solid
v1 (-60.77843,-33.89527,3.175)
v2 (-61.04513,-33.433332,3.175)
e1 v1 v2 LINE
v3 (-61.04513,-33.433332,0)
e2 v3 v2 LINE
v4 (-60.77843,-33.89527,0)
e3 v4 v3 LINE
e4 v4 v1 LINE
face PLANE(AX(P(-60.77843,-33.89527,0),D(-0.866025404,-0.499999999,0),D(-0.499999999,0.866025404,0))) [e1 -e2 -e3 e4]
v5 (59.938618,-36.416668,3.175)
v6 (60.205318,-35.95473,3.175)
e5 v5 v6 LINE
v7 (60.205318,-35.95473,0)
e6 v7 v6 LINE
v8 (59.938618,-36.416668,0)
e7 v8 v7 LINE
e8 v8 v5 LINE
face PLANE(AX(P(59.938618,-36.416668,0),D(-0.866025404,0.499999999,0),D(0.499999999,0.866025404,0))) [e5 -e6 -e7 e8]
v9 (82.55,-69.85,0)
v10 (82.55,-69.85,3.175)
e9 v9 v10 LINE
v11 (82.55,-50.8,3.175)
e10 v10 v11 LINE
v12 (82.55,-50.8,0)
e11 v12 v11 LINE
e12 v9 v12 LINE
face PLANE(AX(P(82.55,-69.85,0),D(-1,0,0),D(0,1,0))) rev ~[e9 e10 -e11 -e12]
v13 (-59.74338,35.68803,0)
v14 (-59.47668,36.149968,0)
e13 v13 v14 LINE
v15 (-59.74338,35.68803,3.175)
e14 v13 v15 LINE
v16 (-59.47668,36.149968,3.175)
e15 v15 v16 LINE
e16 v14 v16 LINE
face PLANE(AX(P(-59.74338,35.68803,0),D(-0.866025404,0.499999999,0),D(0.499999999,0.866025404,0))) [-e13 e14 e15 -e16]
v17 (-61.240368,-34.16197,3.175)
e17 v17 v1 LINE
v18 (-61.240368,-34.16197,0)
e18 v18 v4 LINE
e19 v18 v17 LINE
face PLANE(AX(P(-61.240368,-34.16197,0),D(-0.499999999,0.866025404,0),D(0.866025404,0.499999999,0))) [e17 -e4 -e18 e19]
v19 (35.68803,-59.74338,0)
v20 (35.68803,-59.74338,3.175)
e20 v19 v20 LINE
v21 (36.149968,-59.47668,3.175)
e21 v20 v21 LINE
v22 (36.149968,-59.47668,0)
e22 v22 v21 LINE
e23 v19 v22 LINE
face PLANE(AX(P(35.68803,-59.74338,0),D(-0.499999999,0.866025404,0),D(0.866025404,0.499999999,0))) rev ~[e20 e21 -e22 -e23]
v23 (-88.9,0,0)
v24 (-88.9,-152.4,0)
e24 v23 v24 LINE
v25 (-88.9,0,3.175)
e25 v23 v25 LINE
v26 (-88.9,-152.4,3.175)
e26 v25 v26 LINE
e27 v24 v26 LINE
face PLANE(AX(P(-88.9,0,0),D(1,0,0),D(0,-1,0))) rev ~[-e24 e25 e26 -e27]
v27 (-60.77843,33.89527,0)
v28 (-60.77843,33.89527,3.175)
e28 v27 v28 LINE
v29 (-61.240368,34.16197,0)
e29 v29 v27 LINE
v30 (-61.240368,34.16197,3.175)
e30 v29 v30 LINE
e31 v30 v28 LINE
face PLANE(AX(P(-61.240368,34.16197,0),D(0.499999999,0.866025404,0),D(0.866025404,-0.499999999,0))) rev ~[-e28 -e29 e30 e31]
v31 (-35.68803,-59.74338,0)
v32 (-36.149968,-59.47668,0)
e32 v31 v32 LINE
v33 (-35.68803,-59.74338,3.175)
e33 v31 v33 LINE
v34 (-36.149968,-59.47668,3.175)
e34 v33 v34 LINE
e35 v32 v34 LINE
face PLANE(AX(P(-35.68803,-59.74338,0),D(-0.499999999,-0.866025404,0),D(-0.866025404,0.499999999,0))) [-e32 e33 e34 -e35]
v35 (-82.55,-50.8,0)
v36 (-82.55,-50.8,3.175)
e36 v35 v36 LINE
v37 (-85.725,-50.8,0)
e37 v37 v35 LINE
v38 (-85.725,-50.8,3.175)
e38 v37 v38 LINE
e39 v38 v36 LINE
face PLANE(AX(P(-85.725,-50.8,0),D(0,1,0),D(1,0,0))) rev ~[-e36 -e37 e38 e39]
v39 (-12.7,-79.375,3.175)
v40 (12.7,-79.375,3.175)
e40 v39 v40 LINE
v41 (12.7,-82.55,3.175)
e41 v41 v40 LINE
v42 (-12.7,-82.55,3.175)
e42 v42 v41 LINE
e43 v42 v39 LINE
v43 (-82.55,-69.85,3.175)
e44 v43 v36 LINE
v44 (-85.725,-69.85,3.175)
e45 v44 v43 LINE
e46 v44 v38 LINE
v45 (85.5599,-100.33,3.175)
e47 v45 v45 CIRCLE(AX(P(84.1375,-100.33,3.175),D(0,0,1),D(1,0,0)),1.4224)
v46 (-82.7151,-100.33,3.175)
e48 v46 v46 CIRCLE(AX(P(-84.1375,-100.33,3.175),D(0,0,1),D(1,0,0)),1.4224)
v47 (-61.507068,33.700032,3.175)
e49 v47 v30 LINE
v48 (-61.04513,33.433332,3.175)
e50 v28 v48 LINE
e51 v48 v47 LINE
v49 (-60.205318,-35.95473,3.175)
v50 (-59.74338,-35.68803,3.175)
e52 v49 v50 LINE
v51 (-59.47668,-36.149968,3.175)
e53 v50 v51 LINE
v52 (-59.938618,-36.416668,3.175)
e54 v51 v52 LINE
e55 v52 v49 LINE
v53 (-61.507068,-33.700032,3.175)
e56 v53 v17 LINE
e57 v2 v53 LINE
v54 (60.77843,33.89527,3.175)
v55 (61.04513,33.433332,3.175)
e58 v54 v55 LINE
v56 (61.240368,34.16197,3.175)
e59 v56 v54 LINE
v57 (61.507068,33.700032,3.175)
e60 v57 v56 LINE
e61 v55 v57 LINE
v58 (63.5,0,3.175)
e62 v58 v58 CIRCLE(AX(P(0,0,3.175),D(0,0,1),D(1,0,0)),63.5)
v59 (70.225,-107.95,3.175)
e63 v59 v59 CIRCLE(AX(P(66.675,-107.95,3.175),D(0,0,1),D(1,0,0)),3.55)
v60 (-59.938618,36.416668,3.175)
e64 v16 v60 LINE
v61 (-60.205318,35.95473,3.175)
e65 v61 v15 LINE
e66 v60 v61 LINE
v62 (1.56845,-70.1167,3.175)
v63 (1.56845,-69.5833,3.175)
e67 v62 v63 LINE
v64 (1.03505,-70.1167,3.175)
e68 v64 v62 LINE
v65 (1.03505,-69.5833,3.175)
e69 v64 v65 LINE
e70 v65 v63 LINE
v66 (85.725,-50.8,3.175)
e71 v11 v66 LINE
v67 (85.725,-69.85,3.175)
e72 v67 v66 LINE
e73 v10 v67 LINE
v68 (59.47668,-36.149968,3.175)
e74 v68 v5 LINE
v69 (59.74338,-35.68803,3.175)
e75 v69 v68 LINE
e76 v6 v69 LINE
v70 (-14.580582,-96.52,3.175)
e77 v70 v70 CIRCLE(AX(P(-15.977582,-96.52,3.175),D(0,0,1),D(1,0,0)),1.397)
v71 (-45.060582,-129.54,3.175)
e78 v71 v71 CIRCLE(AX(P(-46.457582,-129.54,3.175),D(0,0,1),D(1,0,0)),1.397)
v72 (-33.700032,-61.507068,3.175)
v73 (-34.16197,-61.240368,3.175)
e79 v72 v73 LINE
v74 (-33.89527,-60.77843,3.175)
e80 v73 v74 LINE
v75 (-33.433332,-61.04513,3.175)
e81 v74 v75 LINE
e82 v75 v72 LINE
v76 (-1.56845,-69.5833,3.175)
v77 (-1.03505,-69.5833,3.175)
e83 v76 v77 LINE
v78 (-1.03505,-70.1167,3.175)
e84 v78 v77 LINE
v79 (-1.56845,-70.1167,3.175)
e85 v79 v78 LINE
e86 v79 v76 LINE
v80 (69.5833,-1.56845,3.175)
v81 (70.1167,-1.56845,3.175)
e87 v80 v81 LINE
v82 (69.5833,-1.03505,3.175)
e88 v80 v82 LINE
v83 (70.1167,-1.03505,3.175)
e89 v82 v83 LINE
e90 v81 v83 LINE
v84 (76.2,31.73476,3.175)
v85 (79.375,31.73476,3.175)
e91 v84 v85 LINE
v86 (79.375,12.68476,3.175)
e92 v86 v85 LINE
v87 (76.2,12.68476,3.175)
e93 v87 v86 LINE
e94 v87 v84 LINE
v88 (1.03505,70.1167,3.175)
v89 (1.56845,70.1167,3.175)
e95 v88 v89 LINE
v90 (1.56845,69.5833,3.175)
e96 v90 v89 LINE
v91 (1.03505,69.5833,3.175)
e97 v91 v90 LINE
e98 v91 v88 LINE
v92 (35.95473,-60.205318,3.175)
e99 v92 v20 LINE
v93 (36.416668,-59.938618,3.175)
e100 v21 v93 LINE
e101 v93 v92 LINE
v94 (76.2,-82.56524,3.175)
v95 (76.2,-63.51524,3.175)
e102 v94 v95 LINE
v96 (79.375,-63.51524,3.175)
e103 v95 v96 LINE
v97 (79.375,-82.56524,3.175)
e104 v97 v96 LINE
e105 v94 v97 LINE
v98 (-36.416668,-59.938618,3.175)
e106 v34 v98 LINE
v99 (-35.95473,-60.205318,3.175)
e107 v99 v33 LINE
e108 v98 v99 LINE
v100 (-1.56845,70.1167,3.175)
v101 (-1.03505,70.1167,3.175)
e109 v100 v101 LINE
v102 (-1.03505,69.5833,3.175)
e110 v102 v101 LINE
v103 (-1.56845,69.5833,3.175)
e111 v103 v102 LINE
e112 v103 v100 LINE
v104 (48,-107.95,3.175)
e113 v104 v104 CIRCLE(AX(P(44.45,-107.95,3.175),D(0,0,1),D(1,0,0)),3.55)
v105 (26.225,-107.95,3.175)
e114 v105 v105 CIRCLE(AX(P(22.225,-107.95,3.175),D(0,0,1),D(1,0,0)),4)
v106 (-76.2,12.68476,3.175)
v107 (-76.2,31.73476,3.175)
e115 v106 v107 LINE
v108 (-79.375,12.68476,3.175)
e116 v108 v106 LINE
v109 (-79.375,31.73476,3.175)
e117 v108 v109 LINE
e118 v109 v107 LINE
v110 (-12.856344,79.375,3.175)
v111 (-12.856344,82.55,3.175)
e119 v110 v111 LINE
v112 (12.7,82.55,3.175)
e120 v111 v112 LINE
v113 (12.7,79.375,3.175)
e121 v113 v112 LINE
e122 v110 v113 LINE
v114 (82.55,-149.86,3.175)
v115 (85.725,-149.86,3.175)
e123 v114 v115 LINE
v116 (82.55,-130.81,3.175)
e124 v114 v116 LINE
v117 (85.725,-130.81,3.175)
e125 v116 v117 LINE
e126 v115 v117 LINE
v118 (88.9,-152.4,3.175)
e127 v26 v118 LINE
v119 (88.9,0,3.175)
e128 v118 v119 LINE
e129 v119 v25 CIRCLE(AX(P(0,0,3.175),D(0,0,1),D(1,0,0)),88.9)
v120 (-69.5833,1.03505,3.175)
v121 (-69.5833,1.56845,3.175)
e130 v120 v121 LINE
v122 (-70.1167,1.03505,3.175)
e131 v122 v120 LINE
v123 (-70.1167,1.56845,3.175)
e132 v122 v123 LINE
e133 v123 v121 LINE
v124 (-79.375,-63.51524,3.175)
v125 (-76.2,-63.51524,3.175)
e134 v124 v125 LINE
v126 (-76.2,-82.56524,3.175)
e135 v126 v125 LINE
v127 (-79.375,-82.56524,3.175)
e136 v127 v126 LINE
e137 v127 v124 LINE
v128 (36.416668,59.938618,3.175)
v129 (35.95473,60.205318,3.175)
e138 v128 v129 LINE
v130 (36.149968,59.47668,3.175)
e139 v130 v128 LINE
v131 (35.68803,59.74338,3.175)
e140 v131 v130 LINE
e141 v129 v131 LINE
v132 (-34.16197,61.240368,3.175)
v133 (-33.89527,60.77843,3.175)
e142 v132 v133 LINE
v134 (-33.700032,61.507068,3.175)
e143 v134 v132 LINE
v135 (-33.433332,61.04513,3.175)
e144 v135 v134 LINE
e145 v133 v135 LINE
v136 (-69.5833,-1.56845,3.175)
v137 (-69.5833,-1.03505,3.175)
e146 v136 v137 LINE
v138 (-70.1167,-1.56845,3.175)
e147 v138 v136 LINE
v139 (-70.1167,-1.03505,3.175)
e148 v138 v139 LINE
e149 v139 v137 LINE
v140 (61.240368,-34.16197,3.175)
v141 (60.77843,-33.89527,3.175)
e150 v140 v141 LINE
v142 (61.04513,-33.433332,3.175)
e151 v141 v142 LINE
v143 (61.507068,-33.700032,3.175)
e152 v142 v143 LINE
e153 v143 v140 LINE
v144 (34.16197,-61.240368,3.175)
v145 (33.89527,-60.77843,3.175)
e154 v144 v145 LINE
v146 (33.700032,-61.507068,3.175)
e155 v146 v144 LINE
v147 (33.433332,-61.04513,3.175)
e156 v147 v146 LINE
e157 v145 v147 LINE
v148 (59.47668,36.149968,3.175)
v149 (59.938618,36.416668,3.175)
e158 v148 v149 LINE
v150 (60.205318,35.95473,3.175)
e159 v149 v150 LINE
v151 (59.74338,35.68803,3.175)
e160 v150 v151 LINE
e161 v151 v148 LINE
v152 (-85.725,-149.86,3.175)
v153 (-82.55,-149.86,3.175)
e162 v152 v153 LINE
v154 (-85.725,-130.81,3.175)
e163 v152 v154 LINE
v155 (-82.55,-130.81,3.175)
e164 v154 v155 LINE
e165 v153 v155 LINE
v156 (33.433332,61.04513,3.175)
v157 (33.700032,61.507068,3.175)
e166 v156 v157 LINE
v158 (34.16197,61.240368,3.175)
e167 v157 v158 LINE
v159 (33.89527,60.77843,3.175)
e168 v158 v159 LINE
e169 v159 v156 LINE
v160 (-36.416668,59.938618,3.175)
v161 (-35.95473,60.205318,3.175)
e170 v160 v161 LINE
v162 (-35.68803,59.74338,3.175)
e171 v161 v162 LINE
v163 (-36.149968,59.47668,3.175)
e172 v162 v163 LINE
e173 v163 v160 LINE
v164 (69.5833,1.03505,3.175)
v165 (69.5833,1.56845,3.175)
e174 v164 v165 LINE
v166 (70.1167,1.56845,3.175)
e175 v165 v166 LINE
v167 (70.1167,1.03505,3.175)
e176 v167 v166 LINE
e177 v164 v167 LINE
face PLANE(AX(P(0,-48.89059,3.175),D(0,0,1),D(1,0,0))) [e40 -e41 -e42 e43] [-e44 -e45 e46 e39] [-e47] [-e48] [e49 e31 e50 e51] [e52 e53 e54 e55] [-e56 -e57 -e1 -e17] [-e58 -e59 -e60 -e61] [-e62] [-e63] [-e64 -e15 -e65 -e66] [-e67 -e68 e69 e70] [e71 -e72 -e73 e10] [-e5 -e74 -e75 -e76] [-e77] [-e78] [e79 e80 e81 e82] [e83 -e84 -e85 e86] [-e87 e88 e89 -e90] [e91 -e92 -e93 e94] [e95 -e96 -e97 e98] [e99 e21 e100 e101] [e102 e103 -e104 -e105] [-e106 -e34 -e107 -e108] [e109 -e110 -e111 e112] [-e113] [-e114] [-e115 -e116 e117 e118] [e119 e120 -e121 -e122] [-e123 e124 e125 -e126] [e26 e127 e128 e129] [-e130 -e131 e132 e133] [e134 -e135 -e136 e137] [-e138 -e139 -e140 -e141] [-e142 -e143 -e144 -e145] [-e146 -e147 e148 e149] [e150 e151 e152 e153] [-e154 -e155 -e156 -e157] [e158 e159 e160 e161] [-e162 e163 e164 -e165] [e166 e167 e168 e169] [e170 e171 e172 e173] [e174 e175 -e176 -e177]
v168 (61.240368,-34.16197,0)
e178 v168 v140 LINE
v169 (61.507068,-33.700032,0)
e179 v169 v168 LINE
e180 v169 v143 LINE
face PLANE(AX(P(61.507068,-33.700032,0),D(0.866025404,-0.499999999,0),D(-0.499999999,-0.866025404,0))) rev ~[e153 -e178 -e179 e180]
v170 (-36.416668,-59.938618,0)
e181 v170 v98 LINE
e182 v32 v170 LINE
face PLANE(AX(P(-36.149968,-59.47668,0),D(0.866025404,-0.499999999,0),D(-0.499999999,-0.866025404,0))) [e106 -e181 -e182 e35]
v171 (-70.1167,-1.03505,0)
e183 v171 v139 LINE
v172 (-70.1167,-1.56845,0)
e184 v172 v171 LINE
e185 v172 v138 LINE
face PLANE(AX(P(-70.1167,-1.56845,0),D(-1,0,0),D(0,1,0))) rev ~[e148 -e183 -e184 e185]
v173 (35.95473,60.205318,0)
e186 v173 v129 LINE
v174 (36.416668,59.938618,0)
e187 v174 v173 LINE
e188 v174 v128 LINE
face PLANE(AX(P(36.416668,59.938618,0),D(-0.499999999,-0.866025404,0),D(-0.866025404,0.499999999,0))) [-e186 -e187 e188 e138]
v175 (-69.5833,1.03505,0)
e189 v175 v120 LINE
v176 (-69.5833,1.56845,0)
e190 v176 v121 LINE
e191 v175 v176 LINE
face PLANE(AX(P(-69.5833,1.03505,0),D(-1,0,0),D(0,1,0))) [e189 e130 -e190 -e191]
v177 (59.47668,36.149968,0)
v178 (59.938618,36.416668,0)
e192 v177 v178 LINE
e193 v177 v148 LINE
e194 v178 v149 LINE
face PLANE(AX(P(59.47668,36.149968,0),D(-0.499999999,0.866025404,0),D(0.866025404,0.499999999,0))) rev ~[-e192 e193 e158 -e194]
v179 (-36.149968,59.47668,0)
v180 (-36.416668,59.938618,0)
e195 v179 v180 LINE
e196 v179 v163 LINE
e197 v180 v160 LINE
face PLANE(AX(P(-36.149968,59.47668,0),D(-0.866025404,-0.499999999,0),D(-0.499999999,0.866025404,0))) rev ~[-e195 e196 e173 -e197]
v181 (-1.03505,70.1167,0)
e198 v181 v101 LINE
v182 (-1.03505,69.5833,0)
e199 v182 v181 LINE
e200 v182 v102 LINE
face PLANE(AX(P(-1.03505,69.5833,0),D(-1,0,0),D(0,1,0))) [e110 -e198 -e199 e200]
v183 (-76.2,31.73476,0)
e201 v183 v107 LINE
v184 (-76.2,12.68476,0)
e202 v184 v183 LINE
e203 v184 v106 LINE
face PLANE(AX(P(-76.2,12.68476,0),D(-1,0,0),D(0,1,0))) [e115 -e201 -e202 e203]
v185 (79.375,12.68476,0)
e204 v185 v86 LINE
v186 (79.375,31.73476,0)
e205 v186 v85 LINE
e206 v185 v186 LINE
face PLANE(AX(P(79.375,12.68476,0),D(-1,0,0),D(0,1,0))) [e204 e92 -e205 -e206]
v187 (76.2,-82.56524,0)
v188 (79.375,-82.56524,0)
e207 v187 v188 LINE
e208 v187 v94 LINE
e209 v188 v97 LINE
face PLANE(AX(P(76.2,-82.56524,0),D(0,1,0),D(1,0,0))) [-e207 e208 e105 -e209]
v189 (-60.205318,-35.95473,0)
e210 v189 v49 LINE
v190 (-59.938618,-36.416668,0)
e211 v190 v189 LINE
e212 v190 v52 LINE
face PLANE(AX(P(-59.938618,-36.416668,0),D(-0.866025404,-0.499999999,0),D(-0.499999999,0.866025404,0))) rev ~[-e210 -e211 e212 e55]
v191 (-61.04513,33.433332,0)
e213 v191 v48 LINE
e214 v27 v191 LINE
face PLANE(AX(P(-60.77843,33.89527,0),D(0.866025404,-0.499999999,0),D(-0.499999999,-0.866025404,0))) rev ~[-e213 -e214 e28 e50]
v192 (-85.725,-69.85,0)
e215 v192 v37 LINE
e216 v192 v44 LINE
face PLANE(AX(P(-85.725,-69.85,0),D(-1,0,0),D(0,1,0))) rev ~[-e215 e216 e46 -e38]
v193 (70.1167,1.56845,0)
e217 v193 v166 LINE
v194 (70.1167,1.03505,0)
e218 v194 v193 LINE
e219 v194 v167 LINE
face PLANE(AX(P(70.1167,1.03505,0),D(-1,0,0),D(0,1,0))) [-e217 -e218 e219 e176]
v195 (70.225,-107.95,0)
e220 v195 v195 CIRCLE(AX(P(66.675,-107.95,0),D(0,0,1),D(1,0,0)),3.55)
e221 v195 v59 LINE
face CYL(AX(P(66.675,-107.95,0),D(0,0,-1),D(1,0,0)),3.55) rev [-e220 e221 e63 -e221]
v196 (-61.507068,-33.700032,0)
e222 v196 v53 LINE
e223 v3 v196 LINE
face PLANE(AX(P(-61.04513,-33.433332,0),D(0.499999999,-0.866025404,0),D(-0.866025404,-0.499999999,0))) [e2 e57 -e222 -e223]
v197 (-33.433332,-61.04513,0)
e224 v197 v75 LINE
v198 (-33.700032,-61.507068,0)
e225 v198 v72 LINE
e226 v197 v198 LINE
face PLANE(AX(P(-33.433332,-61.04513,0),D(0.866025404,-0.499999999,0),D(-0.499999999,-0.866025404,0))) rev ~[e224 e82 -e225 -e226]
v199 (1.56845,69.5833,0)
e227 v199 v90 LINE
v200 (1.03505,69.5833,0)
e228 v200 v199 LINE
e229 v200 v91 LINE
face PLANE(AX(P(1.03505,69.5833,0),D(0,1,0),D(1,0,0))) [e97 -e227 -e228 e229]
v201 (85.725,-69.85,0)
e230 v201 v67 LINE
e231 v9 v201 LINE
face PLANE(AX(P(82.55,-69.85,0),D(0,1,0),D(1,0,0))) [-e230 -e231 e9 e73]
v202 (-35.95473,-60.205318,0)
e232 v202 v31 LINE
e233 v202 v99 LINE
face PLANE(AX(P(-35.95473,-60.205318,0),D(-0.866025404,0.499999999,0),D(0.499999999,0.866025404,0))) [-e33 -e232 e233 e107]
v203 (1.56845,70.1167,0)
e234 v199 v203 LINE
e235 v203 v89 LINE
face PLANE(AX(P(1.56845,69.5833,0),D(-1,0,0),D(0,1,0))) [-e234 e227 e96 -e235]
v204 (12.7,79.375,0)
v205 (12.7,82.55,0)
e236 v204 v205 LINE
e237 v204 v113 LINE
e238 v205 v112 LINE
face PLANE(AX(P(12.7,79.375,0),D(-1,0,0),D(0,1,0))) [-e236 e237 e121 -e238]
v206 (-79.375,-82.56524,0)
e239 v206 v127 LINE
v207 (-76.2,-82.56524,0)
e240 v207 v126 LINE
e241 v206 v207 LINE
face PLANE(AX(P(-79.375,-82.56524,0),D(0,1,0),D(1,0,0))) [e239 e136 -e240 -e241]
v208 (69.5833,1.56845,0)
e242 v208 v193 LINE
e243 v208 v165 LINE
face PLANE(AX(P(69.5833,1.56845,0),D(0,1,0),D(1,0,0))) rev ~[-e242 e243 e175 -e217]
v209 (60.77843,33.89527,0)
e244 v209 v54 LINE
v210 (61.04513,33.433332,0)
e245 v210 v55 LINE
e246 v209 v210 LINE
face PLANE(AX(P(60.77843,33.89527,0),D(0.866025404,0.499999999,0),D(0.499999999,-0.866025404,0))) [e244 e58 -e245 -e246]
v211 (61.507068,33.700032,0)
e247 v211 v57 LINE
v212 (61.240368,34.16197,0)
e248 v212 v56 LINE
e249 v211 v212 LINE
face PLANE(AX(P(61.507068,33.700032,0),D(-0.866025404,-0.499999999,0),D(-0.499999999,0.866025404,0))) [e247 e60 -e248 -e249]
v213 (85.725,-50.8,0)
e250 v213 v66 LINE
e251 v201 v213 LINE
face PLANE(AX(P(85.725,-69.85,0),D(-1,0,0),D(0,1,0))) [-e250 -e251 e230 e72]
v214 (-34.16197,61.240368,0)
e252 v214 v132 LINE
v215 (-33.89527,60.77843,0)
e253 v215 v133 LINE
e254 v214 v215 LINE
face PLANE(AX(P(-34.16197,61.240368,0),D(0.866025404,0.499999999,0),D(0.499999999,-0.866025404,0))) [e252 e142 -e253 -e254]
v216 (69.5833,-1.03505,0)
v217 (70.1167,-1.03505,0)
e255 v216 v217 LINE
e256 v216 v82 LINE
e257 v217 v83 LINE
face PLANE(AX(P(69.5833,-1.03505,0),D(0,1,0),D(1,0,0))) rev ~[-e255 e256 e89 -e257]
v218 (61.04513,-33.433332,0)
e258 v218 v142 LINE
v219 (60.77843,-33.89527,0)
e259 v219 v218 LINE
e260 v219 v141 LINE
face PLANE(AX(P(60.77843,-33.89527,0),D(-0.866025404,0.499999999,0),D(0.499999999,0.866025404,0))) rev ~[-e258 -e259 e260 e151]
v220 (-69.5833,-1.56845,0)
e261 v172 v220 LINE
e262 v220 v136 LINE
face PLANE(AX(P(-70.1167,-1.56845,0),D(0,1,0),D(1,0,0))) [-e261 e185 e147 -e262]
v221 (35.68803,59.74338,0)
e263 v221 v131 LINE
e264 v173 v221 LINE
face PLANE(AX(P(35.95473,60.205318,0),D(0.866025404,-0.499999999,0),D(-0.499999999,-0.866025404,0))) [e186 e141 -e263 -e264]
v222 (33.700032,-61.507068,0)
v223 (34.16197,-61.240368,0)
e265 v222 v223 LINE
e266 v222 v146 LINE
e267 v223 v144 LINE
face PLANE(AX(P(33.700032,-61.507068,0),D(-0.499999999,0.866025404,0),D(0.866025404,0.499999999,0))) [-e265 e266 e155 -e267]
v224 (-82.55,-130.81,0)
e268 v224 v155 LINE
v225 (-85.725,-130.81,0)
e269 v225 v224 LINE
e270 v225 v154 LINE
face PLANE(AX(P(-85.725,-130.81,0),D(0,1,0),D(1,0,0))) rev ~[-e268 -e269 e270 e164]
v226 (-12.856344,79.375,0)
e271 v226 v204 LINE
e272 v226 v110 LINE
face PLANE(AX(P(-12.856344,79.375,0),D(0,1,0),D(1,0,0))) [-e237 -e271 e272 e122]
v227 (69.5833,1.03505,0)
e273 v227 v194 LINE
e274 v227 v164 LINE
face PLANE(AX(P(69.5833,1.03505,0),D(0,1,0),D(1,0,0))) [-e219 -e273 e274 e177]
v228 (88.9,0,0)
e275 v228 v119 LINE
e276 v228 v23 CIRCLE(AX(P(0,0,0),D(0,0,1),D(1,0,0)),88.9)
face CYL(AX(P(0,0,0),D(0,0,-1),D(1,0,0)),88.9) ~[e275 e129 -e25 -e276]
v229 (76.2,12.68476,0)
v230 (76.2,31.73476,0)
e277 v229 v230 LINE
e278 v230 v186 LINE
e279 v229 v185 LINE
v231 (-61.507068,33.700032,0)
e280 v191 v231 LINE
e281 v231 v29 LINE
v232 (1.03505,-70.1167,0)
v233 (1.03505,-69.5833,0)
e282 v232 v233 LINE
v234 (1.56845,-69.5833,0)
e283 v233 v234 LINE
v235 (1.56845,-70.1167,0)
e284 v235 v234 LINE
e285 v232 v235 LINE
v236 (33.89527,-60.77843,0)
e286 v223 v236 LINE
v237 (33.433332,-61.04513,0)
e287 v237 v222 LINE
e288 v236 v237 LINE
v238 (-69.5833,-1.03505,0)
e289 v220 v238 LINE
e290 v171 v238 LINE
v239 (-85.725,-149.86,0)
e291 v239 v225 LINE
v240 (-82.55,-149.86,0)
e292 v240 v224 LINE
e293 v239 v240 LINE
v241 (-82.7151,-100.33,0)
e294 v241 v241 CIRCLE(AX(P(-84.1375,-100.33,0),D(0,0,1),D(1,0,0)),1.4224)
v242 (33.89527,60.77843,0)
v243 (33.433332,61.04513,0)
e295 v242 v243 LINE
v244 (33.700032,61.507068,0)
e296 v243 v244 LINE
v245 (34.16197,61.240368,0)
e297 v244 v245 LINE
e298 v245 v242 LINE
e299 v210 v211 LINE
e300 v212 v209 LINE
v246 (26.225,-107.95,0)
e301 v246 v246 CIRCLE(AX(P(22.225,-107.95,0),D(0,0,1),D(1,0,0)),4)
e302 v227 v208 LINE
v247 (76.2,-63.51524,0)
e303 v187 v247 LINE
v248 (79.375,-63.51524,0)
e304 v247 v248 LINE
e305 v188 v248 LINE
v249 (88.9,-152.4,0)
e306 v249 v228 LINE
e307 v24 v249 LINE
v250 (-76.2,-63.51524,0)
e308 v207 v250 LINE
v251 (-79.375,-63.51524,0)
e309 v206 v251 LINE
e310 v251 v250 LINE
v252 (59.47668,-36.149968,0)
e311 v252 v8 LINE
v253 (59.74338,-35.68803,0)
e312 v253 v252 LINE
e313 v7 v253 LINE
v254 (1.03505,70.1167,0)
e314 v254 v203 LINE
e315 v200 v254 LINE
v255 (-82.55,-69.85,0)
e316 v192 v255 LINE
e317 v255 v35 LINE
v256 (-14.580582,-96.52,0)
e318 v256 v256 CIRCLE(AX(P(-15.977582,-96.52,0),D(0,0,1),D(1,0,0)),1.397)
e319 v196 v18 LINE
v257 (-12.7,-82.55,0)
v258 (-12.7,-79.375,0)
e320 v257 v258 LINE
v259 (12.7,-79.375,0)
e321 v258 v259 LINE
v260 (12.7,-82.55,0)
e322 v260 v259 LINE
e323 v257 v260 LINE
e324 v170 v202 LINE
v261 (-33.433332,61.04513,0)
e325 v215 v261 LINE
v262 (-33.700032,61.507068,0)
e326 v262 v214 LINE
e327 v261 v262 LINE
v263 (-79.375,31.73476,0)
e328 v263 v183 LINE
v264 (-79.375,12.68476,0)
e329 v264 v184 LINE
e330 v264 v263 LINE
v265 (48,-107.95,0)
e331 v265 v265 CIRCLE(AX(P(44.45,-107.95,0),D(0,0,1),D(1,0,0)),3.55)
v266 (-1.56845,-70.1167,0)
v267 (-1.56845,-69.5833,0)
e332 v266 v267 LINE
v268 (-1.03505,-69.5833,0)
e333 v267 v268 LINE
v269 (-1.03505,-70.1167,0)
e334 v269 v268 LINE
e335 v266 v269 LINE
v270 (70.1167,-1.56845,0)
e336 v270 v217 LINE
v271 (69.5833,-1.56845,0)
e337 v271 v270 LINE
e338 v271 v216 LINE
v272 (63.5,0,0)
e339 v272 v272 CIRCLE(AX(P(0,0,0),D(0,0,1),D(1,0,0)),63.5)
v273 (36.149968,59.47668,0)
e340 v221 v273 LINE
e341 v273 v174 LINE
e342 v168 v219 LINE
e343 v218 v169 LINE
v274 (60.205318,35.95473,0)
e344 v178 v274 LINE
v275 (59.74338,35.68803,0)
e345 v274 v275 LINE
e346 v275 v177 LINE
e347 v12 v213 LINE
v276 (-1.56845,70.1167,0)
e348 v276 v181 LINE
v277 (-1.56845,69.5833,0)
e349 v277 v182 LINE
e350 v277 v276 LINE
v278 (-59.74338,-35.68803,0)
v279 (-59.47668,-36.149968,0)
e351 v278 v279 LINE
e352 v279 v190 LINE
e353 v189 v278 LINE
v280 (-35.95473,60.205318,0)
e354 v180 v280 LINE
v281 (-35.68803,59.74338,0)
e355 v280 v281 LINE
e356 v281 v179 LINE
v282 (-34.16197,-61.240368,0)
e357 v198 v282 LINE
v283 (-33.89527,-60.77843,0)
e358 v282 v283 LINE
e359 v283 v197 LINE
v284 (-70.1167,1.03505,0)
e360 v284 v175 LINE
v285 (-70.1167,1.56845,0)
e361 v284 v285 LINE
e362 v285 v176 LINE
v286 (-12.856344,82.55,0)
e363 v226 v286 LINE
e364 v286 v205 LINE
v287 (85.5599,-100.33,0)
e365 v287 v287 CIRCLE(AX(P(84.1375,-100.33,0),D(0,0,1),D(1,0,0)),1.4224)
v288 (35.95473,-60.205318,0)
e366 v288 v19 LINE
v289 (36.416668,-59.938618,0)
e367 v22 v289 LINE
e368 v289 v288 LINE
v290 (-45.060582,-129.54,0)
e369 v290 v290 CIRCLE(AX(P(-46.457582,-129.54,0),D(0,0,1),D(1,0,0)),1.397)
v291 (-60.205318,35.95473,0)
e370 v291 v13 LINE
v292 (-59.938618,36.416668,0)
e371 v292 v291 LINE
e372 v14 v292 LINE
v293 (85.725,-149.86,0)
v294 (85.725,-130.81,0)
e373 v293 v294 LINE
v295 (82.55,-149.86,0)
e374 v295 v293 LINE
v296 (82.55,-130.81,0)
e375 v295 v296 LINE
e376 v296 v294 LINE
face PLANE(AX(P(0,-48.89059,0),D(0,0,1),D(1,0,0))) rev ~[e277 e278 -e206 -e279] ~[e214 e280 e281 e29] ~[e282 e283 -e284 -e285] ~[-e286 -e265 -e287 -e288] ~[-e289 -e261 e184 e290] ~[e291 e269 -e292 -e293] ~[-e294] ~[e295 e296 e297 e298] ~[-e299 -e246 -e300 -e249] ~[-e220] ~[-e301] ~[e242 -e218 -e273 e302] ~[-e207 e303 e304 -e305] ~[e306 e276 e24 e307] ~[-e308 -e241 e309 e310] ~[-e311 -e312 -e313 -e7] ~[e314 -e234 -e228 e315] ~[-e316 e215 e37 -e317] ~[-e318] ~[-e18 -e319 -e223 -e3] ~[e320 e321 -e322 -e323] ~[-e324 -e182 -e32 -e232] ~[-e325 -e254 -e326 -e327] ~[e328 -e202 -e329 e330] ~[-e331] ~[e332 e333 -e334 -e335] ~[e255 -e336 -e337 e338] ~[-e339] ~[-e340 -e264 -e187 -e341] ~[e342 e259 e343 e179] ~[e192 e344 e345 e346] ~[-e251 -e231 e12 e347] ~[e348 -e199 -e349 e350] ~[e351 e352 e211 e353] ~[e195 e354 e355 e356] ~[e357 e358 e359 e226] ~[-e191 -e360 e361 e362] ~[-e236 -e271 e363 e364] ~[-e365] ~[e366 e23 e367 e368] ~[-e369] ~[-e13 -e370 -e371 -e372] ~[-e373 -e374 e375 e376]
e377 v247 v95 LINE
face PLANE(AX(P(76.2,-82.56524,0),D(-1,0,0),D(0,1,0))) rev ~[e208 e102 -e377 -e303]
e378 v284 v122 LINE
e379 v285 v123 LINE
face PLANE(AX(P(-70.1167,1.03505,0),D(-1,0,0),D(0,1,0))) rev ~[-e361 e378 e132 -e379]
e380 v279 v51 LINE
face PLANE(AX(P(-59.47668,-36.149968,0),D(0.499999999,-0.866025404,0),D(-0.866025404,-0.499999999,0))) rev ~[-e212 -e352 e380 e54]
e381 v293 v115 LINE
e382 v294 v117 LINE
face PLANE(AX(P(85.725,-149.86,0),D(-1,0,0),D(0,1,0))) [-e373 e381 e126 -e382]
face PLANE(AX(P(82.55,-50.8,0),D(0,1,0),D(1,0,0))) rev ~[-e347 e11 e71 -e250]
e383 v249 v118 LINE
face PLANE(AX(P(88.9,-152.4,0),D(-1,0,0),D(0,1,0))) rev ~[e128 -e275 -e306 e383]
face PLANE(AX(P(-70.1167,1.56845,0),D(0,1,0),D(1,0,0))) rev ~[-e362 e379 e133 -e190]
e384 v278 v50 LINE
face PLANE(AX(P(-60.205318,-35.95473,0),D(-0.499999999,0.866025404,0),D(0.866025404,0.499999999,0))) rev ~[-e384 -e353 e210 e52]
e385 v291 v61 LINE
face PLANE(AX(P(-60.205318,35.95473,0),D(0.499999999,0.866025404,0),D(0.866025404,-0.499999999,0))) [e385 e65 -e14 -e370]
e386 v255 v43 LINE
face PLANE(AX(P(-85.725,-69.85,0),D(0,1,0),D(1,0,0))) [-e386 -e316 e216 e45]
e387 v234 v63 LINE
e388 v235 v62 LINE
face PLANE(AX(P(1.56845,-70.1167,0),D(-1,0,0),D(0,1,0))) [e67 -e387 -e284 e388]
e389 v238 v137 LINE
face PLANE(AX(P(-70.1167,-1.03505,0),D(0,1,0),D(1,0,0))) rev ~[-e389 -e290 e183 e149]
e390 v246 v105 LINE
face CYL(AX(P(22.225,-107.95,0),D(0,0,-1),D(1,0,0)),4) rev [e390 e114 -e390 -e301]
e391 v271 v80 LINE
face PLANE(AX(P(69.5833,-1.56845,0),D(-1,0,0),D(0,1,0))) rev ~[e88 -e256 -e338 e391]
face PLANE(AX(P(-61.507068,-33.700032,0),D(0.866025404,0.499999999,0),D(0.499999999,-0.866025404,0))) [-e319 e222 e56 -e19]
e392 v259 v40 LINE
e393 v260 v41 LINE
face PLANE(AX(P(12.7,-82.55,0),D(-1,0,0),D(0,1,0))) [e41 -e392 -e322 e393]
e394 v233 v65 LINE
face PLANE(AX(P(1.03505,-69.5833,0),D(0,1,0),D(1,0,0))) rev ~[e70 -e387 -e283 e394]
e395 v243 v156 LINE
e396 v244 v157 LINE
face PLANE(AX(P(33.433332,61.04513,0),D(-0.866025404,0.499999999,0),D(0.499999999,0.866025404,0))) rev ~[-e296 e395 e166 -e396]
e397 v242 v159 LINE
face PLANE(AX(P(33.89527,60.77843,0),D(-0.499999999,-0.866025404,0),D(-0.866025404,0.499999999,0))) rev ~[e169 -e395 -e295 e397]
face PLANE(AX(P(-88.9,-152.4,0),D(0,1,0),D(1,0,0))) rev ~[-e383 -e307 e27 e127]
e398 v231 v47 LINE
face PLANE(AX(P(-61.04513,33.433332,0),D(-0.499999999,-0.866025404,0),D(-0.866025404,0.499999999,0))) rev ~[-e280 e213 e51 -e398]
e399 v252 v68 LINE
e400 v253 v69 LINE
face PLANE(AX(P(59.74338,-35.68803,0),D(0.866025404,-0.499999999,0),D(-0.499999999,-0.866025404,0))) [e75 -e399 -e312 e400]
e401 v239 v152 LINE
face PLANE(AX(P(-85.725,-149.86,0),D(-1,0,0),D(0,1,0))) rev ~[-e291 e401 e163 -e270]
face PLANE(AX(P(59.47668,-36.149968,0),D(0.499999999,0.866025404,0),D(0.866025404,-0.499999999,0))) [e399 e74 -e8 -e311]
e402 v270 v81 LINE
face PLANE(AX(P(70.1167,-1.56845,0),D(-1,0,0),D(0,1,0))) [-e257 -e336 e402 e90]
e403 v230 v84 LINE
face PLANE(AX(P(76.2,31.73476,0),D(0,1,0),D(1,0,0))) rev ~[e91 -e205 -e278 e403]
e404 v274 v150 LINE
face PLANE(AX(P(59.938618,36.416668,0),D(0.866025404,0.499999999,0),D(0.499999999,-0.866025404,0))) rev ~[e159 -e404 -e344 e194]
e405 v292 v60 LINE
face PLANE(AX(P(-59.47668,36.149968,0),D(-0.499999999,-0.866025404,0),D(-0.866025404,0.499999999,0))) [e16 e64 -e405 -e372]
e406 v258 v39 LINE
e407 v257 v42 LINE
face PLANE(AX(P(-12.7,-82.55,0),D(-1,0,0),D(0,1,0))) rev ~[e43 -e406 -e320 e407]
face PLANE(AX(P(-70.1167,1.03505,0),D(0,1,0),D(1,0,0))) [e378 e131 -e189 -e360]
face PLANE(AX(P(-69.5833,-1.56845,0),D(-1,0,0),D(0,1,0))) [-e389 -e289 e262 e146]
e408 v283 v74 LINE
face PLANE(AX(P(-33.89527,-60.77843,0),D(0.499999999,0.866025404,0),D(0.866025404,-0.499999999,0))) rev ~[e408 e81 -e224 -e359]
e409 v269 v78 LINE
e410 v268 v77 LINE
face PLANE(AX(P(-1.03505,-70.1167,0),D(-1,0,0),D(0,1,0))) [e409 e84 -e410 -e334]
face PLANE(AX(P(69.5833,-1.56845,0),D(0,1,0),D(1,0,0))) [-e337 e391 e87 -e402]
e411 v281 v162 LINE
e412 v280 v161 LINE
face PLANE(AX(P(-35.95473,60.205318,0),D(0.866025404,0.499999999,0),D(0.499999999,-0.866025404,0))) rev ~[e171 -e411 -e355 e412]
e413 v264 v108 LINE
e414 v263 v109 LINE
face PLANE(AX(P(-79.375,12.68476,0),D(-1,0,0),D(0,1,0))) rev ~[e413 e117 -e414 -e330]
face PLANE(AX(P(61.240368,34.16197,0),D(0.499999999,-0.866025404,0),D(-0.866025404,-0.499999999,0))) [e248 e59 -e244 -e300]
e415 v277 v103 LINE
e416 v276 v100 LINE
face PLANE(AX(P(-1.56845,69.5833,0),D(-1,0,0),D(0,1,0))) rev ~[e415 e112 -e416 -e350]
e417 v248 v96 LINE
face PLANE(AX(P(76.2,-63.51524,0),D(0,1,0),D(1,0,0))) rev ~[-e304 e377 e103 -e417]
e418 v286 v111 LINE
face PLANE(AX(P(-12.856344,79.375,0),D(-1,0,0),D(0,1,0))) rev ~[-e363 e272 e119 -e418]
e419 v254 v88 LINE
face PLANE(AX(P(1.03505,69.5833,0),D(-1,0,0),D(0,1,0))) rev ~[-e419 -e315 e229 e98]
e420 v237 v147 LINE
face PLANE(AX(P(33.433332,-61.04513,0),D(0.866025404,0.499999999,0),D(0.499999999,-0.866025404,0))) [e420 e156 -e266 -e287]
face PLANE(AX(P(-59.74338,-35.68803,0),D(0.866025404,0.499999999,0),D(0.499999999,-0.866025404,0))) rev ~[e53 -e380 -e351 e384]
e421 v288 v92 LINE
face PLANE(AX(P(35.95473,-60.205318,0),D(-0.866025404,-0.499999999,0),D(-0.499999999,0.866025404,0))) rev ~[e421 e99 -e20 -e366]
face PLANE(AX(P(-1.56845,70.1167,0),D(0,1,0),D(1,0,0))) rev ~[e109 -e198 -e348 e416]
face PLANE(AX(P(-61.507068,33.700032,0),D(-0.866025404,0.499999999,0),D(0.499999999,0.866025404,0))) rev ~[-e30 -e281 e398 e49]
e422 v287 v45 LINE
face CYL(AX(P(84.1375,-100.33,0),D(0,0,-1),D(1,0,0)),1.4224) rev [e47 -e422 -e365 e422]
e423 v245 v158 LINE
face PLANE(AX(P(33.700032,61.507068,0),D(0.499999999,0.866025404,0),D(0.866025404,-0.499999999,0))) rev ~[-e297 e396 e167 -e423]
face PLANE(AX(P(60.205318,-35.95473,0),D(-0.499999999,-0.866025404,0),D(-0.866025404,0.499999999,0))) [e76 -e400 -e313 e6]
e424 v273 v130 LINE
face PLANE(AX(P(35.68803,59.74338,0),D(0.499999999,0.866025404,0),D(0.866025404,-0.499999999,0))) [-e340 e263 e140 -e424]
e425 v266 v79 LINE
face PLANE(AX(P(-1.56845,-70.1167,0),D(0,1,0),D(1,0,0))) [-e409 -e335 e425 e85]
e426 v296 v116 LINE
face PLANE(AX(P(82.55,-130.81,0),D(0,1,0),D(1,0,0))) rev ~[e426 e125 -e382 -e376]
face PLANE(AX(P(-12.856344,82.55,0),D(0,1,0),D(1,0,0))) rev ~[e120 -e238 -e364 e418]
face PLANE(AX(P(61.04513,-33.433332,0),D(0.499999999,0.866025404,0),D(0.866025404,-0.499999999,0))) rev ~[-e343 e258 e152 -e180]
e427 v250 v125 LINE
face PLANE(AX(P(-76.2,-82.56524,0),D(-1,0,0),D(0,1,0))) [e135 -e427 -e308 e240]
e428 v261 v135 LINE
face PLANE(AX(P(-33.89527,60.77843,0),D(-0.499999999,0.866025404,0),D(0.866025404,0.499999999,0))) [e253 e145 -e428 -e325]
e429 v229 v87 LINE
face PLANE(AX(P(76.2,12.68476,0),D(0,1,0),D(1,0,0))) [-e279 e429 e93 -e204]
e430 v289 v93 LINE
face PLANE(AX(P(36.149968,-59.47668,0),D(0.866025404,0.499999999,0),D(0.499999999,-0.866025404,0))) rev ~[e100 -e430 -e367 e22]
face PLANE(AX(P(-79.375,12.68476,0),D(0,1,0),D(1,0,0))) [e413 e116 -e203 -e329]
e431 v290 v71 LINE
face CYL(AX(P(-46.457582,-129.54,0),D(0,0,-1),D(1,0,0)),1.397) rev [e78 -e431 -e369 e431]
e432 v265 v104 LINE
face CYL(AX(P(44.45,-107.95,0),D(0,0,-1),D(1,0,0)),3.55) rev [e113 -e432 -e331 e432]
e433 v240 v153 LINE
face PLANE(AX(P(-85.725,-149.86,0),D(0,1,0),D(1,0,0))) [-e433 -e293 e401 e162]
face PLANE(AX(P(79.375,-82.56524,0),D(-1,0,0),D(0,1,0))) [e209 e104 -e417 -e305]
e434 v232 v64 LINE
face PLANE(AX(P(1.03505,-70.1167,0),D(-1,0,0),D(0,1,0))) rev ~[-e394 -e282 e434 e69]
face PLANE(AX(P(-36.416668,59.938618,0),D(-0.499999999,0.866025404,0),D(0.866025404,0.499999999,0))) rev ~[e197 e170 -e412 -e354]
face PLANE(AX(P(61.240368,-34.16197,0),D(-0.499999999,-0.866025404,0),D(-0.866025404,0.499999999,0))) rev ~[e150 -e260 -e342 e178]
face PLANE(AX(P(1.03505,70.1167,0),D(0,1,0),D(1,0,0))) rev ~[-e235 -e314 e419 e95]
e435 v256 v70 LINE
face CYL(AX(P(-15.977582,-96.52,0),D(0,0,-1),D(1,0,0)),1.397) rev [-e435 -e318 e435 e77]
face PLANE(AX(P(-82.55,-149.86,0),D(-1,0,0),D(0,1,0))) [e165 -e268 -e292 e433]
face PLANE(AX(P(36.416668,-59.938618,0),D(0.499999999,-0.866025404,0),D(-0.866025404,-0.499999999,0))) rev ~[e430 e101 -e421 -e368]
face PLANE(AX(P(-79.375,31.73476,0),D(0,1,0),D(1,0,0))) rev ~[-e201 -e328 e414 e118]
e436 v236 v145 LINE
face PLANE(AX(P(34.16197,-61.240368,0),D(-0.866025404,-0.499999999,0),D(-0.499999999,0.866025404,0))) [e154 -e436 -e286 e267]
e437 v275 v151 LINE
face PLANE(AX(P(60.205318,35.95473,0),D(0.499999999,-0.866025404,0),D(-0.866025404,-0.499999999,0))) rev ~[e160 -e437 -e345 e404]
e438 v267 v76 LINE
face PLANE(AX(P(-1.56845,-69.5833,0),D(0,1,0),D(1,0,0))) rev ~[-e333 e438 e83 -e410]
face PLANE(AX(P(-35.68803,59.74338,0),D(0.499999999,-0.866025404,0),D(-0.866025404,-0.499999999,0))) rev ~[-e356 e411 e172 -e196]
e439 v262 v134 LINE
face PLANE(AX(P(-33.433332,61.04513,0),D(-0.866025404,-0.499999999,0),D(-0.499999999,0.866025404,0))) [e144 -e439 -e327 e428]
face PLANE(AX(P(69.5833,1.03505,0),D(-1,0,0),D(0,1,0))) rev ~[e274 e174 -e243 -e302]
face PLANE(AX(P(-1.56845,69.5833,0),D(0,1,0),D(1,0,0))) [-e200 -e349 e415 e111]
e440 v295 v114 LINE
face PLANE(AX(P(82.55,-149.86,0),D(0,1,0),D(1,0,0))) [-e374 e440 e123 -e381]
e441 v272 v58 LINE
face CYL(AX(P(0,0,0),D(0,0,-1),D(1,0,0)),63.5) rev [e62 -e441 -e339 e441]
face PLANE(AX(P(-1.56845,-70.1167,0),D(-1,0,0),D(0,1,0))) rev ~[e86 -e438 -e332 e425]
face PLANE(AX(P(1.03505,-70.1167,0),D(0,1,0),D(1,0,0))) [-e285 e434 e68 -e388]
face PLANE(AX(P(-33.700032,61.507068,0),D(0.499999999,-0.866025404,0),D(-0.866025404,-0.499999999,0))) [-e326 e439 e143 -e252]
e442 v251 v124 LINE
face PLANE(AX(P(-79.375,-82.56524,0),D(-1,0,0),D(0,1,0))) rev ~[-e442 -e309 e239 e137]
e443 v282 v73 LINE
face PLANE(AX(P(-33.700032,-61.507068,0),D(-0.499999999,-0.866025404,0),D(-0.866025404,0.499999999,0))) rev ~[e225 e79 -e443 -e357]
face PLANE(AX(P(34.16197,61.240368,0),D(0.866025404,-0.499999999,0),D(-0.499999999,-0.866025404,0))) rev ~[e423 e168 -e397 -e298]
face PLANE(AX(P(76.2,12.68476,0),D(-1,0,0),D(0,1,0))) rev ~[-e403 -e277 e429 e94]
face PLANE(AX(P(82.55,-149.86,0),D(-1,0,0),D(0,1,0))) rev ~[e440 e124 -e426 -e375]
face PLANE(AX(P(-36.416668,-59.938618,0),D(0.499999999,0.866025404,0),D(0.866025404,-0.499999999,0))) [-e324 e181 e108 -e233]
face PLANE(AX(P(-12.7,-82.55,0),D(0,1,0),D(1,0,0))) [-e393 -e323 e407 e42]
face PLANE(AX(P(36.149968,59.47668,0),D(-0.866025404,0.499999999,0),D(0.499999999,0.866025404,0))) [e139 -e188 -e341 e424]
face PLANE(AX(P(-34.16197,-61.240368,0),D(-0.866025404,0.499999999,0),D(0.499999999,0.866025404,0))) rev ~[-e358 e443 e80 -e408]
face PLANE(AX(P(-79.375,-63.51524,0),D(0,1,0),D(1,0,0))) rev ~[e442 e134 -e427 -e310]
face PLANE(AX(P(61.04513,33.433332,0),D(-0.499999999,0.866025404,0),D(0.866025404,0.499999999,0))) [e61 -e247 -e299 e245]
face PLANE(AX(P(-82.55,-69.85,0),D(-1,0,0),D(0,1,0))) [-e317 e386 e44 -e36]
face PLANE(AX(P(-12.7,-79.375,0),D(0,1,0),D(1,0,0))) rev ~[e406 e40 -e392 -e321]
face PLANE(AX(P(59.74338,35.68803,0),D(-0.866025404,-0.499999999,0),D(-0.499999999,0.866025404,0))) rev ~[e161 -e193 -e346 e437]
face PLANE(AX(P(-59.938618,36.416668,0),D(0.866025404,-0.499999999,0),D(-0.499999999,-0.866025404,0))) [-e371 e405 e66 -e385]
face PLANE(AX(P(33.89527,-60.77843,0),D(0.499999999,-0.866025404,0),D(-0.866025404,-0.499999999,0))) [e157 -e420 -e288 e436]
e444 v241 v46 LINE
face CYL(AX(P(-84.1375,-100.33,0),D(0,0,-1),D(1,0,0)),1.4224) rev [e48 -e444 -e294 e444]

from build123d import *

# Parameters (mm, degrees)
SKETCH1_R           = 63.5
SKETCH1_R_2         = 1.4224
SKETCH1_R_3         = 4
SKETCH1_R_4         = 3.55
SKETCH1_R_5         = 1.397
SKETCH1_W           = 0.5334
SKETCH1_H           = 0.5334
SKETCH1_W_2         = 3.175
SKETCH1_H_2         = 19.05
SKETCH1_W_3         = 25.556343598
SKETCH1_H_3         = 3.175
SKETCH1_W_4         = 25.4
BOSS_EXTRUDE1_DEPTH = 3.175


with BuildPart() as part:
    # Sketch1 → Boss-Extrude1 (new body)
    with BuildSketch(Plane.XY):
        with BuildLine():
            Line((-88.9, 0), (-88.9, -152.4))
            Line((-88.9, -152.4), (88.9, -152.4))
            Line((88.9, -152.4), (88.9, 0))
            ThreePointArc((88.9, 0), (0, 88.9), (-88.9, 0))
        make_face()
        Circle(SKETCH1_R, mode=Mode.SUBTRACT)
        with Locations((-84.1375, -100.33)):
            Circle(SKETCH1_R_2, mode=Mode.SUBTRACT)
        with Locations((84.1375, -100.33)):
            Circle(SKETCH1_R_2, mode=Mode.SUBTRACT)
        with Locations((22.225, -107.95)):
            Circle(SKETCH1_R_3, mode=Mode.SUBTRACT)
        with Locations((44.45, -107.95)):
            Circle(SKETCH1_R_4, mode=Mode.SUBTRACT)
        with Locations((66.675, -107.95)):
            Circle(SKETCH1_R_4, mode=Mode.SUBTRACT)
        with Locations((-15.977581987, -96.52)):
            Circle(SKETCH1_R_5, mode=Mode.SUBTRACT)
        with Locations((-46.457581987, -129.54)):
            Circle(SKETCH1_R_5, mode=Mode.SUBTRACT)
        with Locations((-1.30175, 69.85)):
            Rectangle(SKETCH1_W, SKETCH1_H, mode=Mode.SUBTRACT)
        with Locations((1.30175, 69.85)):
            Rectangle(SKETCH1_W, SKETCH1_H, mode=Mode.SUBTRACT)
        Polygon((33.700032455, 61.50706843), (34.161970406, 61.24036843), (33.895270406, 60.778430479), (33.433332455, 61.045130479), align=None, mode=Mode.SUBTRACT)
        Polygon((35.954729594, 60.20531843), (35.688029594, 59.743380479), (36.149967545, 59.476680479), (36.416667545, 59.93861843), align=None, mode=Mode.SUBTRACT)
        Polygon((59.93861843, 36.416667545), (60.20531843, 35.954729594), (59.743380479, 35.688029594), (59.476680479, 36.149967545), align=None, mode=Mode.SUBTRACT)
        Polygon((61.24036843, 34.161970406), (60.778430479, 33.895270406), (61.045130479, 33.433332455), (61.50706843, 33.700032455), align=None, mode=Mode.SUBTRACT)
        with Locations((69.85, 1.30175)):
            Rectangle(SKETCH1_W, SKETCH1_H, mode=Mode.SUBTRACT)
        with Locations((69.85, -1.30175)):
            Rectangle(SKETCH1_W, SKETCH1_H, mode=Mode.SUBTRACT)
        Polygon((61.50706843, -33.700032455), (61.24036843, -34.161970406), (60.778430479, -33.895270406), (61.045130479, -33.433332455), align=None, mode=Mode.SUBTRACT)
        Polygon((60.20531843, -35.954729594), (59.743380479, -35.688029594), (59.476680479, -36.149967545), (59.93861843, -36.416667545), align=None, mode=Mode.SUBTRACT)
        Polygon((36.416667545, -59.93861843), (35.954729594, -60.20531843), (35.688029594, -59.743380479), (36.149967545, -59.476680479), align=None, mode=Mode.SUBTRACT)
        Polygon((34.161970406, -61.24036843), (33.895270406, -60.778430479), (33.433332455, -61.045130479), (33.700032455, -61.50706843), align=None, mode=Mode.SUBTRACT)
        with Locations((1.30175, -69.85)):
            Rectangle(SKETCH1_W, SKETCH1_H, mode=Mode.SUBTRACT)
        with Locations((-1.30175, -69.85)):
            Rectangle(SKETCH1_W, SKETCH1_H, mode=Mode.SUBTRACT)
        Polygon((-33.700032455, -61.50706843), (-34.161970406, -61.24036843), (-33.895270406, -60.778430479), (-33.433332455, -61.045130479), align=None, mode=Mode.SUBTRACT)
        Polygon((-35.954729594, -60.20531843), (-35.688029594, -59.743380479), (-36.149967545, -59.476680479), (-36.416667545, -59.93861843), align=None, mode=Mode.SUBTRACT)
        Polygon((-59.93861843, -36.416667545), (-60.20531843, -35.954729594), (-59.743380479, -35.688029594), (-59.476680479, -36.149967545), align=None, mode=Mode.SUBTRACT)
        Polygon((-61.24036843, -34.161970406), (-60.778430479, -33.895270406), (-61.045130479, -33.433332455), (-61.50706843, -33.700032455), align=None, mode=Mode.SUBTRACT)
        with Locations((-69.85, -1.30175)):
            Rectangle(SKETCH1_W, SKETCH1_H, mode=Mode.SUBTRACT)
        with Locations((-69.85, 1.30175)):
            Rectangle(SKETCH1_W, SKETCH1_H, mode=Mode.SUBTRACT)
        Polygon((-61.50706843, 33.700032455), (-61.24036843, 34.161970406), (-60.778430479, 33.895270406), (-61.045130479, 33.433332455), align=None, mode=Mode.SUBTRACT)
        Polygon((-60.20531843, 35.954729594), (-59.743380479, 35.688029594), (-59.476680479, 36.149967545), (-59.93861843, 36.416667545), align=None, mode=Mode.SUBTRACT)
        Polygon((-36.416667545, 59.93861843), (-35.954729594, 60.20531843), (-35.688029594, 59.743380479), (-36.149967545, 59.476680479), align=None, mode=Mode.SUBTRACT)
        Polygon((-34.161970406, 61.24036843), (-33.895270406, 60.778430479), (-33.433332455, 61.045130479), (-33.700032455, 61.50706843), align=None, mode=Mode.SUBTRACT)
        with Locations((-77.7875, 22.20976)):
            Rectangle(SKETCH1_W_2, SKETCH1_H_2, mode=Mode.SUBTRACT)
        with Locations((-77.7875, -73.04024)):
            Rectangle(SKETCH1_W_2, SKETCH1_H_2, mode=Mode.SUBTRACT)
        with Locations((-84.1375, -140.335)):
            Rectangle(SKETCH1_W_2, SKETCH1_H_2, mode=Mode.SUBTRACT)
        with Locations((-84.1375, -60.325)):
            Rectangle(SKETCH1_W_2, SKETCH1_H_2, mode=Mode.SUBTRACT)
        with Locations((84.1375, -140.335)):
            Rectangle(SKETCH1_W_2, SKETCH1_H_2, mode=Mode.SUBTRACT)
        with Locations((77.7875, 22.20976)):
            Rectangle(SKETCH1_W_2, SKETCH1_H_2, mode=Mode.SUBTRACT)
        with Locations((84.1375, -60.325)):
            Rectangle(SKETCH1_W_2, SKETCH1_H_2, mode=Mode.SUBTRACT)
        with Locations((77.7875, -73.04024)):
            Rectangle(SKETCH1_W_2, SKETCH1_H_2, mode=Mode.SUBTRACT)
        with Locations((-0.078171799, 80.9625)):
            Rectangle(SKETCH1_W_3, SKETCH1_H_3, mode=Mode.SUBTRACT)
        with Locations((0, -80.9625)):
            Rectangle(SKETCH1_W_4, SKETCH1_H_3, mode=Mode.SUBTRACT)
    extrude(amount=BOSS_EXTRUDE1_DEPTH)


solid = part.part
